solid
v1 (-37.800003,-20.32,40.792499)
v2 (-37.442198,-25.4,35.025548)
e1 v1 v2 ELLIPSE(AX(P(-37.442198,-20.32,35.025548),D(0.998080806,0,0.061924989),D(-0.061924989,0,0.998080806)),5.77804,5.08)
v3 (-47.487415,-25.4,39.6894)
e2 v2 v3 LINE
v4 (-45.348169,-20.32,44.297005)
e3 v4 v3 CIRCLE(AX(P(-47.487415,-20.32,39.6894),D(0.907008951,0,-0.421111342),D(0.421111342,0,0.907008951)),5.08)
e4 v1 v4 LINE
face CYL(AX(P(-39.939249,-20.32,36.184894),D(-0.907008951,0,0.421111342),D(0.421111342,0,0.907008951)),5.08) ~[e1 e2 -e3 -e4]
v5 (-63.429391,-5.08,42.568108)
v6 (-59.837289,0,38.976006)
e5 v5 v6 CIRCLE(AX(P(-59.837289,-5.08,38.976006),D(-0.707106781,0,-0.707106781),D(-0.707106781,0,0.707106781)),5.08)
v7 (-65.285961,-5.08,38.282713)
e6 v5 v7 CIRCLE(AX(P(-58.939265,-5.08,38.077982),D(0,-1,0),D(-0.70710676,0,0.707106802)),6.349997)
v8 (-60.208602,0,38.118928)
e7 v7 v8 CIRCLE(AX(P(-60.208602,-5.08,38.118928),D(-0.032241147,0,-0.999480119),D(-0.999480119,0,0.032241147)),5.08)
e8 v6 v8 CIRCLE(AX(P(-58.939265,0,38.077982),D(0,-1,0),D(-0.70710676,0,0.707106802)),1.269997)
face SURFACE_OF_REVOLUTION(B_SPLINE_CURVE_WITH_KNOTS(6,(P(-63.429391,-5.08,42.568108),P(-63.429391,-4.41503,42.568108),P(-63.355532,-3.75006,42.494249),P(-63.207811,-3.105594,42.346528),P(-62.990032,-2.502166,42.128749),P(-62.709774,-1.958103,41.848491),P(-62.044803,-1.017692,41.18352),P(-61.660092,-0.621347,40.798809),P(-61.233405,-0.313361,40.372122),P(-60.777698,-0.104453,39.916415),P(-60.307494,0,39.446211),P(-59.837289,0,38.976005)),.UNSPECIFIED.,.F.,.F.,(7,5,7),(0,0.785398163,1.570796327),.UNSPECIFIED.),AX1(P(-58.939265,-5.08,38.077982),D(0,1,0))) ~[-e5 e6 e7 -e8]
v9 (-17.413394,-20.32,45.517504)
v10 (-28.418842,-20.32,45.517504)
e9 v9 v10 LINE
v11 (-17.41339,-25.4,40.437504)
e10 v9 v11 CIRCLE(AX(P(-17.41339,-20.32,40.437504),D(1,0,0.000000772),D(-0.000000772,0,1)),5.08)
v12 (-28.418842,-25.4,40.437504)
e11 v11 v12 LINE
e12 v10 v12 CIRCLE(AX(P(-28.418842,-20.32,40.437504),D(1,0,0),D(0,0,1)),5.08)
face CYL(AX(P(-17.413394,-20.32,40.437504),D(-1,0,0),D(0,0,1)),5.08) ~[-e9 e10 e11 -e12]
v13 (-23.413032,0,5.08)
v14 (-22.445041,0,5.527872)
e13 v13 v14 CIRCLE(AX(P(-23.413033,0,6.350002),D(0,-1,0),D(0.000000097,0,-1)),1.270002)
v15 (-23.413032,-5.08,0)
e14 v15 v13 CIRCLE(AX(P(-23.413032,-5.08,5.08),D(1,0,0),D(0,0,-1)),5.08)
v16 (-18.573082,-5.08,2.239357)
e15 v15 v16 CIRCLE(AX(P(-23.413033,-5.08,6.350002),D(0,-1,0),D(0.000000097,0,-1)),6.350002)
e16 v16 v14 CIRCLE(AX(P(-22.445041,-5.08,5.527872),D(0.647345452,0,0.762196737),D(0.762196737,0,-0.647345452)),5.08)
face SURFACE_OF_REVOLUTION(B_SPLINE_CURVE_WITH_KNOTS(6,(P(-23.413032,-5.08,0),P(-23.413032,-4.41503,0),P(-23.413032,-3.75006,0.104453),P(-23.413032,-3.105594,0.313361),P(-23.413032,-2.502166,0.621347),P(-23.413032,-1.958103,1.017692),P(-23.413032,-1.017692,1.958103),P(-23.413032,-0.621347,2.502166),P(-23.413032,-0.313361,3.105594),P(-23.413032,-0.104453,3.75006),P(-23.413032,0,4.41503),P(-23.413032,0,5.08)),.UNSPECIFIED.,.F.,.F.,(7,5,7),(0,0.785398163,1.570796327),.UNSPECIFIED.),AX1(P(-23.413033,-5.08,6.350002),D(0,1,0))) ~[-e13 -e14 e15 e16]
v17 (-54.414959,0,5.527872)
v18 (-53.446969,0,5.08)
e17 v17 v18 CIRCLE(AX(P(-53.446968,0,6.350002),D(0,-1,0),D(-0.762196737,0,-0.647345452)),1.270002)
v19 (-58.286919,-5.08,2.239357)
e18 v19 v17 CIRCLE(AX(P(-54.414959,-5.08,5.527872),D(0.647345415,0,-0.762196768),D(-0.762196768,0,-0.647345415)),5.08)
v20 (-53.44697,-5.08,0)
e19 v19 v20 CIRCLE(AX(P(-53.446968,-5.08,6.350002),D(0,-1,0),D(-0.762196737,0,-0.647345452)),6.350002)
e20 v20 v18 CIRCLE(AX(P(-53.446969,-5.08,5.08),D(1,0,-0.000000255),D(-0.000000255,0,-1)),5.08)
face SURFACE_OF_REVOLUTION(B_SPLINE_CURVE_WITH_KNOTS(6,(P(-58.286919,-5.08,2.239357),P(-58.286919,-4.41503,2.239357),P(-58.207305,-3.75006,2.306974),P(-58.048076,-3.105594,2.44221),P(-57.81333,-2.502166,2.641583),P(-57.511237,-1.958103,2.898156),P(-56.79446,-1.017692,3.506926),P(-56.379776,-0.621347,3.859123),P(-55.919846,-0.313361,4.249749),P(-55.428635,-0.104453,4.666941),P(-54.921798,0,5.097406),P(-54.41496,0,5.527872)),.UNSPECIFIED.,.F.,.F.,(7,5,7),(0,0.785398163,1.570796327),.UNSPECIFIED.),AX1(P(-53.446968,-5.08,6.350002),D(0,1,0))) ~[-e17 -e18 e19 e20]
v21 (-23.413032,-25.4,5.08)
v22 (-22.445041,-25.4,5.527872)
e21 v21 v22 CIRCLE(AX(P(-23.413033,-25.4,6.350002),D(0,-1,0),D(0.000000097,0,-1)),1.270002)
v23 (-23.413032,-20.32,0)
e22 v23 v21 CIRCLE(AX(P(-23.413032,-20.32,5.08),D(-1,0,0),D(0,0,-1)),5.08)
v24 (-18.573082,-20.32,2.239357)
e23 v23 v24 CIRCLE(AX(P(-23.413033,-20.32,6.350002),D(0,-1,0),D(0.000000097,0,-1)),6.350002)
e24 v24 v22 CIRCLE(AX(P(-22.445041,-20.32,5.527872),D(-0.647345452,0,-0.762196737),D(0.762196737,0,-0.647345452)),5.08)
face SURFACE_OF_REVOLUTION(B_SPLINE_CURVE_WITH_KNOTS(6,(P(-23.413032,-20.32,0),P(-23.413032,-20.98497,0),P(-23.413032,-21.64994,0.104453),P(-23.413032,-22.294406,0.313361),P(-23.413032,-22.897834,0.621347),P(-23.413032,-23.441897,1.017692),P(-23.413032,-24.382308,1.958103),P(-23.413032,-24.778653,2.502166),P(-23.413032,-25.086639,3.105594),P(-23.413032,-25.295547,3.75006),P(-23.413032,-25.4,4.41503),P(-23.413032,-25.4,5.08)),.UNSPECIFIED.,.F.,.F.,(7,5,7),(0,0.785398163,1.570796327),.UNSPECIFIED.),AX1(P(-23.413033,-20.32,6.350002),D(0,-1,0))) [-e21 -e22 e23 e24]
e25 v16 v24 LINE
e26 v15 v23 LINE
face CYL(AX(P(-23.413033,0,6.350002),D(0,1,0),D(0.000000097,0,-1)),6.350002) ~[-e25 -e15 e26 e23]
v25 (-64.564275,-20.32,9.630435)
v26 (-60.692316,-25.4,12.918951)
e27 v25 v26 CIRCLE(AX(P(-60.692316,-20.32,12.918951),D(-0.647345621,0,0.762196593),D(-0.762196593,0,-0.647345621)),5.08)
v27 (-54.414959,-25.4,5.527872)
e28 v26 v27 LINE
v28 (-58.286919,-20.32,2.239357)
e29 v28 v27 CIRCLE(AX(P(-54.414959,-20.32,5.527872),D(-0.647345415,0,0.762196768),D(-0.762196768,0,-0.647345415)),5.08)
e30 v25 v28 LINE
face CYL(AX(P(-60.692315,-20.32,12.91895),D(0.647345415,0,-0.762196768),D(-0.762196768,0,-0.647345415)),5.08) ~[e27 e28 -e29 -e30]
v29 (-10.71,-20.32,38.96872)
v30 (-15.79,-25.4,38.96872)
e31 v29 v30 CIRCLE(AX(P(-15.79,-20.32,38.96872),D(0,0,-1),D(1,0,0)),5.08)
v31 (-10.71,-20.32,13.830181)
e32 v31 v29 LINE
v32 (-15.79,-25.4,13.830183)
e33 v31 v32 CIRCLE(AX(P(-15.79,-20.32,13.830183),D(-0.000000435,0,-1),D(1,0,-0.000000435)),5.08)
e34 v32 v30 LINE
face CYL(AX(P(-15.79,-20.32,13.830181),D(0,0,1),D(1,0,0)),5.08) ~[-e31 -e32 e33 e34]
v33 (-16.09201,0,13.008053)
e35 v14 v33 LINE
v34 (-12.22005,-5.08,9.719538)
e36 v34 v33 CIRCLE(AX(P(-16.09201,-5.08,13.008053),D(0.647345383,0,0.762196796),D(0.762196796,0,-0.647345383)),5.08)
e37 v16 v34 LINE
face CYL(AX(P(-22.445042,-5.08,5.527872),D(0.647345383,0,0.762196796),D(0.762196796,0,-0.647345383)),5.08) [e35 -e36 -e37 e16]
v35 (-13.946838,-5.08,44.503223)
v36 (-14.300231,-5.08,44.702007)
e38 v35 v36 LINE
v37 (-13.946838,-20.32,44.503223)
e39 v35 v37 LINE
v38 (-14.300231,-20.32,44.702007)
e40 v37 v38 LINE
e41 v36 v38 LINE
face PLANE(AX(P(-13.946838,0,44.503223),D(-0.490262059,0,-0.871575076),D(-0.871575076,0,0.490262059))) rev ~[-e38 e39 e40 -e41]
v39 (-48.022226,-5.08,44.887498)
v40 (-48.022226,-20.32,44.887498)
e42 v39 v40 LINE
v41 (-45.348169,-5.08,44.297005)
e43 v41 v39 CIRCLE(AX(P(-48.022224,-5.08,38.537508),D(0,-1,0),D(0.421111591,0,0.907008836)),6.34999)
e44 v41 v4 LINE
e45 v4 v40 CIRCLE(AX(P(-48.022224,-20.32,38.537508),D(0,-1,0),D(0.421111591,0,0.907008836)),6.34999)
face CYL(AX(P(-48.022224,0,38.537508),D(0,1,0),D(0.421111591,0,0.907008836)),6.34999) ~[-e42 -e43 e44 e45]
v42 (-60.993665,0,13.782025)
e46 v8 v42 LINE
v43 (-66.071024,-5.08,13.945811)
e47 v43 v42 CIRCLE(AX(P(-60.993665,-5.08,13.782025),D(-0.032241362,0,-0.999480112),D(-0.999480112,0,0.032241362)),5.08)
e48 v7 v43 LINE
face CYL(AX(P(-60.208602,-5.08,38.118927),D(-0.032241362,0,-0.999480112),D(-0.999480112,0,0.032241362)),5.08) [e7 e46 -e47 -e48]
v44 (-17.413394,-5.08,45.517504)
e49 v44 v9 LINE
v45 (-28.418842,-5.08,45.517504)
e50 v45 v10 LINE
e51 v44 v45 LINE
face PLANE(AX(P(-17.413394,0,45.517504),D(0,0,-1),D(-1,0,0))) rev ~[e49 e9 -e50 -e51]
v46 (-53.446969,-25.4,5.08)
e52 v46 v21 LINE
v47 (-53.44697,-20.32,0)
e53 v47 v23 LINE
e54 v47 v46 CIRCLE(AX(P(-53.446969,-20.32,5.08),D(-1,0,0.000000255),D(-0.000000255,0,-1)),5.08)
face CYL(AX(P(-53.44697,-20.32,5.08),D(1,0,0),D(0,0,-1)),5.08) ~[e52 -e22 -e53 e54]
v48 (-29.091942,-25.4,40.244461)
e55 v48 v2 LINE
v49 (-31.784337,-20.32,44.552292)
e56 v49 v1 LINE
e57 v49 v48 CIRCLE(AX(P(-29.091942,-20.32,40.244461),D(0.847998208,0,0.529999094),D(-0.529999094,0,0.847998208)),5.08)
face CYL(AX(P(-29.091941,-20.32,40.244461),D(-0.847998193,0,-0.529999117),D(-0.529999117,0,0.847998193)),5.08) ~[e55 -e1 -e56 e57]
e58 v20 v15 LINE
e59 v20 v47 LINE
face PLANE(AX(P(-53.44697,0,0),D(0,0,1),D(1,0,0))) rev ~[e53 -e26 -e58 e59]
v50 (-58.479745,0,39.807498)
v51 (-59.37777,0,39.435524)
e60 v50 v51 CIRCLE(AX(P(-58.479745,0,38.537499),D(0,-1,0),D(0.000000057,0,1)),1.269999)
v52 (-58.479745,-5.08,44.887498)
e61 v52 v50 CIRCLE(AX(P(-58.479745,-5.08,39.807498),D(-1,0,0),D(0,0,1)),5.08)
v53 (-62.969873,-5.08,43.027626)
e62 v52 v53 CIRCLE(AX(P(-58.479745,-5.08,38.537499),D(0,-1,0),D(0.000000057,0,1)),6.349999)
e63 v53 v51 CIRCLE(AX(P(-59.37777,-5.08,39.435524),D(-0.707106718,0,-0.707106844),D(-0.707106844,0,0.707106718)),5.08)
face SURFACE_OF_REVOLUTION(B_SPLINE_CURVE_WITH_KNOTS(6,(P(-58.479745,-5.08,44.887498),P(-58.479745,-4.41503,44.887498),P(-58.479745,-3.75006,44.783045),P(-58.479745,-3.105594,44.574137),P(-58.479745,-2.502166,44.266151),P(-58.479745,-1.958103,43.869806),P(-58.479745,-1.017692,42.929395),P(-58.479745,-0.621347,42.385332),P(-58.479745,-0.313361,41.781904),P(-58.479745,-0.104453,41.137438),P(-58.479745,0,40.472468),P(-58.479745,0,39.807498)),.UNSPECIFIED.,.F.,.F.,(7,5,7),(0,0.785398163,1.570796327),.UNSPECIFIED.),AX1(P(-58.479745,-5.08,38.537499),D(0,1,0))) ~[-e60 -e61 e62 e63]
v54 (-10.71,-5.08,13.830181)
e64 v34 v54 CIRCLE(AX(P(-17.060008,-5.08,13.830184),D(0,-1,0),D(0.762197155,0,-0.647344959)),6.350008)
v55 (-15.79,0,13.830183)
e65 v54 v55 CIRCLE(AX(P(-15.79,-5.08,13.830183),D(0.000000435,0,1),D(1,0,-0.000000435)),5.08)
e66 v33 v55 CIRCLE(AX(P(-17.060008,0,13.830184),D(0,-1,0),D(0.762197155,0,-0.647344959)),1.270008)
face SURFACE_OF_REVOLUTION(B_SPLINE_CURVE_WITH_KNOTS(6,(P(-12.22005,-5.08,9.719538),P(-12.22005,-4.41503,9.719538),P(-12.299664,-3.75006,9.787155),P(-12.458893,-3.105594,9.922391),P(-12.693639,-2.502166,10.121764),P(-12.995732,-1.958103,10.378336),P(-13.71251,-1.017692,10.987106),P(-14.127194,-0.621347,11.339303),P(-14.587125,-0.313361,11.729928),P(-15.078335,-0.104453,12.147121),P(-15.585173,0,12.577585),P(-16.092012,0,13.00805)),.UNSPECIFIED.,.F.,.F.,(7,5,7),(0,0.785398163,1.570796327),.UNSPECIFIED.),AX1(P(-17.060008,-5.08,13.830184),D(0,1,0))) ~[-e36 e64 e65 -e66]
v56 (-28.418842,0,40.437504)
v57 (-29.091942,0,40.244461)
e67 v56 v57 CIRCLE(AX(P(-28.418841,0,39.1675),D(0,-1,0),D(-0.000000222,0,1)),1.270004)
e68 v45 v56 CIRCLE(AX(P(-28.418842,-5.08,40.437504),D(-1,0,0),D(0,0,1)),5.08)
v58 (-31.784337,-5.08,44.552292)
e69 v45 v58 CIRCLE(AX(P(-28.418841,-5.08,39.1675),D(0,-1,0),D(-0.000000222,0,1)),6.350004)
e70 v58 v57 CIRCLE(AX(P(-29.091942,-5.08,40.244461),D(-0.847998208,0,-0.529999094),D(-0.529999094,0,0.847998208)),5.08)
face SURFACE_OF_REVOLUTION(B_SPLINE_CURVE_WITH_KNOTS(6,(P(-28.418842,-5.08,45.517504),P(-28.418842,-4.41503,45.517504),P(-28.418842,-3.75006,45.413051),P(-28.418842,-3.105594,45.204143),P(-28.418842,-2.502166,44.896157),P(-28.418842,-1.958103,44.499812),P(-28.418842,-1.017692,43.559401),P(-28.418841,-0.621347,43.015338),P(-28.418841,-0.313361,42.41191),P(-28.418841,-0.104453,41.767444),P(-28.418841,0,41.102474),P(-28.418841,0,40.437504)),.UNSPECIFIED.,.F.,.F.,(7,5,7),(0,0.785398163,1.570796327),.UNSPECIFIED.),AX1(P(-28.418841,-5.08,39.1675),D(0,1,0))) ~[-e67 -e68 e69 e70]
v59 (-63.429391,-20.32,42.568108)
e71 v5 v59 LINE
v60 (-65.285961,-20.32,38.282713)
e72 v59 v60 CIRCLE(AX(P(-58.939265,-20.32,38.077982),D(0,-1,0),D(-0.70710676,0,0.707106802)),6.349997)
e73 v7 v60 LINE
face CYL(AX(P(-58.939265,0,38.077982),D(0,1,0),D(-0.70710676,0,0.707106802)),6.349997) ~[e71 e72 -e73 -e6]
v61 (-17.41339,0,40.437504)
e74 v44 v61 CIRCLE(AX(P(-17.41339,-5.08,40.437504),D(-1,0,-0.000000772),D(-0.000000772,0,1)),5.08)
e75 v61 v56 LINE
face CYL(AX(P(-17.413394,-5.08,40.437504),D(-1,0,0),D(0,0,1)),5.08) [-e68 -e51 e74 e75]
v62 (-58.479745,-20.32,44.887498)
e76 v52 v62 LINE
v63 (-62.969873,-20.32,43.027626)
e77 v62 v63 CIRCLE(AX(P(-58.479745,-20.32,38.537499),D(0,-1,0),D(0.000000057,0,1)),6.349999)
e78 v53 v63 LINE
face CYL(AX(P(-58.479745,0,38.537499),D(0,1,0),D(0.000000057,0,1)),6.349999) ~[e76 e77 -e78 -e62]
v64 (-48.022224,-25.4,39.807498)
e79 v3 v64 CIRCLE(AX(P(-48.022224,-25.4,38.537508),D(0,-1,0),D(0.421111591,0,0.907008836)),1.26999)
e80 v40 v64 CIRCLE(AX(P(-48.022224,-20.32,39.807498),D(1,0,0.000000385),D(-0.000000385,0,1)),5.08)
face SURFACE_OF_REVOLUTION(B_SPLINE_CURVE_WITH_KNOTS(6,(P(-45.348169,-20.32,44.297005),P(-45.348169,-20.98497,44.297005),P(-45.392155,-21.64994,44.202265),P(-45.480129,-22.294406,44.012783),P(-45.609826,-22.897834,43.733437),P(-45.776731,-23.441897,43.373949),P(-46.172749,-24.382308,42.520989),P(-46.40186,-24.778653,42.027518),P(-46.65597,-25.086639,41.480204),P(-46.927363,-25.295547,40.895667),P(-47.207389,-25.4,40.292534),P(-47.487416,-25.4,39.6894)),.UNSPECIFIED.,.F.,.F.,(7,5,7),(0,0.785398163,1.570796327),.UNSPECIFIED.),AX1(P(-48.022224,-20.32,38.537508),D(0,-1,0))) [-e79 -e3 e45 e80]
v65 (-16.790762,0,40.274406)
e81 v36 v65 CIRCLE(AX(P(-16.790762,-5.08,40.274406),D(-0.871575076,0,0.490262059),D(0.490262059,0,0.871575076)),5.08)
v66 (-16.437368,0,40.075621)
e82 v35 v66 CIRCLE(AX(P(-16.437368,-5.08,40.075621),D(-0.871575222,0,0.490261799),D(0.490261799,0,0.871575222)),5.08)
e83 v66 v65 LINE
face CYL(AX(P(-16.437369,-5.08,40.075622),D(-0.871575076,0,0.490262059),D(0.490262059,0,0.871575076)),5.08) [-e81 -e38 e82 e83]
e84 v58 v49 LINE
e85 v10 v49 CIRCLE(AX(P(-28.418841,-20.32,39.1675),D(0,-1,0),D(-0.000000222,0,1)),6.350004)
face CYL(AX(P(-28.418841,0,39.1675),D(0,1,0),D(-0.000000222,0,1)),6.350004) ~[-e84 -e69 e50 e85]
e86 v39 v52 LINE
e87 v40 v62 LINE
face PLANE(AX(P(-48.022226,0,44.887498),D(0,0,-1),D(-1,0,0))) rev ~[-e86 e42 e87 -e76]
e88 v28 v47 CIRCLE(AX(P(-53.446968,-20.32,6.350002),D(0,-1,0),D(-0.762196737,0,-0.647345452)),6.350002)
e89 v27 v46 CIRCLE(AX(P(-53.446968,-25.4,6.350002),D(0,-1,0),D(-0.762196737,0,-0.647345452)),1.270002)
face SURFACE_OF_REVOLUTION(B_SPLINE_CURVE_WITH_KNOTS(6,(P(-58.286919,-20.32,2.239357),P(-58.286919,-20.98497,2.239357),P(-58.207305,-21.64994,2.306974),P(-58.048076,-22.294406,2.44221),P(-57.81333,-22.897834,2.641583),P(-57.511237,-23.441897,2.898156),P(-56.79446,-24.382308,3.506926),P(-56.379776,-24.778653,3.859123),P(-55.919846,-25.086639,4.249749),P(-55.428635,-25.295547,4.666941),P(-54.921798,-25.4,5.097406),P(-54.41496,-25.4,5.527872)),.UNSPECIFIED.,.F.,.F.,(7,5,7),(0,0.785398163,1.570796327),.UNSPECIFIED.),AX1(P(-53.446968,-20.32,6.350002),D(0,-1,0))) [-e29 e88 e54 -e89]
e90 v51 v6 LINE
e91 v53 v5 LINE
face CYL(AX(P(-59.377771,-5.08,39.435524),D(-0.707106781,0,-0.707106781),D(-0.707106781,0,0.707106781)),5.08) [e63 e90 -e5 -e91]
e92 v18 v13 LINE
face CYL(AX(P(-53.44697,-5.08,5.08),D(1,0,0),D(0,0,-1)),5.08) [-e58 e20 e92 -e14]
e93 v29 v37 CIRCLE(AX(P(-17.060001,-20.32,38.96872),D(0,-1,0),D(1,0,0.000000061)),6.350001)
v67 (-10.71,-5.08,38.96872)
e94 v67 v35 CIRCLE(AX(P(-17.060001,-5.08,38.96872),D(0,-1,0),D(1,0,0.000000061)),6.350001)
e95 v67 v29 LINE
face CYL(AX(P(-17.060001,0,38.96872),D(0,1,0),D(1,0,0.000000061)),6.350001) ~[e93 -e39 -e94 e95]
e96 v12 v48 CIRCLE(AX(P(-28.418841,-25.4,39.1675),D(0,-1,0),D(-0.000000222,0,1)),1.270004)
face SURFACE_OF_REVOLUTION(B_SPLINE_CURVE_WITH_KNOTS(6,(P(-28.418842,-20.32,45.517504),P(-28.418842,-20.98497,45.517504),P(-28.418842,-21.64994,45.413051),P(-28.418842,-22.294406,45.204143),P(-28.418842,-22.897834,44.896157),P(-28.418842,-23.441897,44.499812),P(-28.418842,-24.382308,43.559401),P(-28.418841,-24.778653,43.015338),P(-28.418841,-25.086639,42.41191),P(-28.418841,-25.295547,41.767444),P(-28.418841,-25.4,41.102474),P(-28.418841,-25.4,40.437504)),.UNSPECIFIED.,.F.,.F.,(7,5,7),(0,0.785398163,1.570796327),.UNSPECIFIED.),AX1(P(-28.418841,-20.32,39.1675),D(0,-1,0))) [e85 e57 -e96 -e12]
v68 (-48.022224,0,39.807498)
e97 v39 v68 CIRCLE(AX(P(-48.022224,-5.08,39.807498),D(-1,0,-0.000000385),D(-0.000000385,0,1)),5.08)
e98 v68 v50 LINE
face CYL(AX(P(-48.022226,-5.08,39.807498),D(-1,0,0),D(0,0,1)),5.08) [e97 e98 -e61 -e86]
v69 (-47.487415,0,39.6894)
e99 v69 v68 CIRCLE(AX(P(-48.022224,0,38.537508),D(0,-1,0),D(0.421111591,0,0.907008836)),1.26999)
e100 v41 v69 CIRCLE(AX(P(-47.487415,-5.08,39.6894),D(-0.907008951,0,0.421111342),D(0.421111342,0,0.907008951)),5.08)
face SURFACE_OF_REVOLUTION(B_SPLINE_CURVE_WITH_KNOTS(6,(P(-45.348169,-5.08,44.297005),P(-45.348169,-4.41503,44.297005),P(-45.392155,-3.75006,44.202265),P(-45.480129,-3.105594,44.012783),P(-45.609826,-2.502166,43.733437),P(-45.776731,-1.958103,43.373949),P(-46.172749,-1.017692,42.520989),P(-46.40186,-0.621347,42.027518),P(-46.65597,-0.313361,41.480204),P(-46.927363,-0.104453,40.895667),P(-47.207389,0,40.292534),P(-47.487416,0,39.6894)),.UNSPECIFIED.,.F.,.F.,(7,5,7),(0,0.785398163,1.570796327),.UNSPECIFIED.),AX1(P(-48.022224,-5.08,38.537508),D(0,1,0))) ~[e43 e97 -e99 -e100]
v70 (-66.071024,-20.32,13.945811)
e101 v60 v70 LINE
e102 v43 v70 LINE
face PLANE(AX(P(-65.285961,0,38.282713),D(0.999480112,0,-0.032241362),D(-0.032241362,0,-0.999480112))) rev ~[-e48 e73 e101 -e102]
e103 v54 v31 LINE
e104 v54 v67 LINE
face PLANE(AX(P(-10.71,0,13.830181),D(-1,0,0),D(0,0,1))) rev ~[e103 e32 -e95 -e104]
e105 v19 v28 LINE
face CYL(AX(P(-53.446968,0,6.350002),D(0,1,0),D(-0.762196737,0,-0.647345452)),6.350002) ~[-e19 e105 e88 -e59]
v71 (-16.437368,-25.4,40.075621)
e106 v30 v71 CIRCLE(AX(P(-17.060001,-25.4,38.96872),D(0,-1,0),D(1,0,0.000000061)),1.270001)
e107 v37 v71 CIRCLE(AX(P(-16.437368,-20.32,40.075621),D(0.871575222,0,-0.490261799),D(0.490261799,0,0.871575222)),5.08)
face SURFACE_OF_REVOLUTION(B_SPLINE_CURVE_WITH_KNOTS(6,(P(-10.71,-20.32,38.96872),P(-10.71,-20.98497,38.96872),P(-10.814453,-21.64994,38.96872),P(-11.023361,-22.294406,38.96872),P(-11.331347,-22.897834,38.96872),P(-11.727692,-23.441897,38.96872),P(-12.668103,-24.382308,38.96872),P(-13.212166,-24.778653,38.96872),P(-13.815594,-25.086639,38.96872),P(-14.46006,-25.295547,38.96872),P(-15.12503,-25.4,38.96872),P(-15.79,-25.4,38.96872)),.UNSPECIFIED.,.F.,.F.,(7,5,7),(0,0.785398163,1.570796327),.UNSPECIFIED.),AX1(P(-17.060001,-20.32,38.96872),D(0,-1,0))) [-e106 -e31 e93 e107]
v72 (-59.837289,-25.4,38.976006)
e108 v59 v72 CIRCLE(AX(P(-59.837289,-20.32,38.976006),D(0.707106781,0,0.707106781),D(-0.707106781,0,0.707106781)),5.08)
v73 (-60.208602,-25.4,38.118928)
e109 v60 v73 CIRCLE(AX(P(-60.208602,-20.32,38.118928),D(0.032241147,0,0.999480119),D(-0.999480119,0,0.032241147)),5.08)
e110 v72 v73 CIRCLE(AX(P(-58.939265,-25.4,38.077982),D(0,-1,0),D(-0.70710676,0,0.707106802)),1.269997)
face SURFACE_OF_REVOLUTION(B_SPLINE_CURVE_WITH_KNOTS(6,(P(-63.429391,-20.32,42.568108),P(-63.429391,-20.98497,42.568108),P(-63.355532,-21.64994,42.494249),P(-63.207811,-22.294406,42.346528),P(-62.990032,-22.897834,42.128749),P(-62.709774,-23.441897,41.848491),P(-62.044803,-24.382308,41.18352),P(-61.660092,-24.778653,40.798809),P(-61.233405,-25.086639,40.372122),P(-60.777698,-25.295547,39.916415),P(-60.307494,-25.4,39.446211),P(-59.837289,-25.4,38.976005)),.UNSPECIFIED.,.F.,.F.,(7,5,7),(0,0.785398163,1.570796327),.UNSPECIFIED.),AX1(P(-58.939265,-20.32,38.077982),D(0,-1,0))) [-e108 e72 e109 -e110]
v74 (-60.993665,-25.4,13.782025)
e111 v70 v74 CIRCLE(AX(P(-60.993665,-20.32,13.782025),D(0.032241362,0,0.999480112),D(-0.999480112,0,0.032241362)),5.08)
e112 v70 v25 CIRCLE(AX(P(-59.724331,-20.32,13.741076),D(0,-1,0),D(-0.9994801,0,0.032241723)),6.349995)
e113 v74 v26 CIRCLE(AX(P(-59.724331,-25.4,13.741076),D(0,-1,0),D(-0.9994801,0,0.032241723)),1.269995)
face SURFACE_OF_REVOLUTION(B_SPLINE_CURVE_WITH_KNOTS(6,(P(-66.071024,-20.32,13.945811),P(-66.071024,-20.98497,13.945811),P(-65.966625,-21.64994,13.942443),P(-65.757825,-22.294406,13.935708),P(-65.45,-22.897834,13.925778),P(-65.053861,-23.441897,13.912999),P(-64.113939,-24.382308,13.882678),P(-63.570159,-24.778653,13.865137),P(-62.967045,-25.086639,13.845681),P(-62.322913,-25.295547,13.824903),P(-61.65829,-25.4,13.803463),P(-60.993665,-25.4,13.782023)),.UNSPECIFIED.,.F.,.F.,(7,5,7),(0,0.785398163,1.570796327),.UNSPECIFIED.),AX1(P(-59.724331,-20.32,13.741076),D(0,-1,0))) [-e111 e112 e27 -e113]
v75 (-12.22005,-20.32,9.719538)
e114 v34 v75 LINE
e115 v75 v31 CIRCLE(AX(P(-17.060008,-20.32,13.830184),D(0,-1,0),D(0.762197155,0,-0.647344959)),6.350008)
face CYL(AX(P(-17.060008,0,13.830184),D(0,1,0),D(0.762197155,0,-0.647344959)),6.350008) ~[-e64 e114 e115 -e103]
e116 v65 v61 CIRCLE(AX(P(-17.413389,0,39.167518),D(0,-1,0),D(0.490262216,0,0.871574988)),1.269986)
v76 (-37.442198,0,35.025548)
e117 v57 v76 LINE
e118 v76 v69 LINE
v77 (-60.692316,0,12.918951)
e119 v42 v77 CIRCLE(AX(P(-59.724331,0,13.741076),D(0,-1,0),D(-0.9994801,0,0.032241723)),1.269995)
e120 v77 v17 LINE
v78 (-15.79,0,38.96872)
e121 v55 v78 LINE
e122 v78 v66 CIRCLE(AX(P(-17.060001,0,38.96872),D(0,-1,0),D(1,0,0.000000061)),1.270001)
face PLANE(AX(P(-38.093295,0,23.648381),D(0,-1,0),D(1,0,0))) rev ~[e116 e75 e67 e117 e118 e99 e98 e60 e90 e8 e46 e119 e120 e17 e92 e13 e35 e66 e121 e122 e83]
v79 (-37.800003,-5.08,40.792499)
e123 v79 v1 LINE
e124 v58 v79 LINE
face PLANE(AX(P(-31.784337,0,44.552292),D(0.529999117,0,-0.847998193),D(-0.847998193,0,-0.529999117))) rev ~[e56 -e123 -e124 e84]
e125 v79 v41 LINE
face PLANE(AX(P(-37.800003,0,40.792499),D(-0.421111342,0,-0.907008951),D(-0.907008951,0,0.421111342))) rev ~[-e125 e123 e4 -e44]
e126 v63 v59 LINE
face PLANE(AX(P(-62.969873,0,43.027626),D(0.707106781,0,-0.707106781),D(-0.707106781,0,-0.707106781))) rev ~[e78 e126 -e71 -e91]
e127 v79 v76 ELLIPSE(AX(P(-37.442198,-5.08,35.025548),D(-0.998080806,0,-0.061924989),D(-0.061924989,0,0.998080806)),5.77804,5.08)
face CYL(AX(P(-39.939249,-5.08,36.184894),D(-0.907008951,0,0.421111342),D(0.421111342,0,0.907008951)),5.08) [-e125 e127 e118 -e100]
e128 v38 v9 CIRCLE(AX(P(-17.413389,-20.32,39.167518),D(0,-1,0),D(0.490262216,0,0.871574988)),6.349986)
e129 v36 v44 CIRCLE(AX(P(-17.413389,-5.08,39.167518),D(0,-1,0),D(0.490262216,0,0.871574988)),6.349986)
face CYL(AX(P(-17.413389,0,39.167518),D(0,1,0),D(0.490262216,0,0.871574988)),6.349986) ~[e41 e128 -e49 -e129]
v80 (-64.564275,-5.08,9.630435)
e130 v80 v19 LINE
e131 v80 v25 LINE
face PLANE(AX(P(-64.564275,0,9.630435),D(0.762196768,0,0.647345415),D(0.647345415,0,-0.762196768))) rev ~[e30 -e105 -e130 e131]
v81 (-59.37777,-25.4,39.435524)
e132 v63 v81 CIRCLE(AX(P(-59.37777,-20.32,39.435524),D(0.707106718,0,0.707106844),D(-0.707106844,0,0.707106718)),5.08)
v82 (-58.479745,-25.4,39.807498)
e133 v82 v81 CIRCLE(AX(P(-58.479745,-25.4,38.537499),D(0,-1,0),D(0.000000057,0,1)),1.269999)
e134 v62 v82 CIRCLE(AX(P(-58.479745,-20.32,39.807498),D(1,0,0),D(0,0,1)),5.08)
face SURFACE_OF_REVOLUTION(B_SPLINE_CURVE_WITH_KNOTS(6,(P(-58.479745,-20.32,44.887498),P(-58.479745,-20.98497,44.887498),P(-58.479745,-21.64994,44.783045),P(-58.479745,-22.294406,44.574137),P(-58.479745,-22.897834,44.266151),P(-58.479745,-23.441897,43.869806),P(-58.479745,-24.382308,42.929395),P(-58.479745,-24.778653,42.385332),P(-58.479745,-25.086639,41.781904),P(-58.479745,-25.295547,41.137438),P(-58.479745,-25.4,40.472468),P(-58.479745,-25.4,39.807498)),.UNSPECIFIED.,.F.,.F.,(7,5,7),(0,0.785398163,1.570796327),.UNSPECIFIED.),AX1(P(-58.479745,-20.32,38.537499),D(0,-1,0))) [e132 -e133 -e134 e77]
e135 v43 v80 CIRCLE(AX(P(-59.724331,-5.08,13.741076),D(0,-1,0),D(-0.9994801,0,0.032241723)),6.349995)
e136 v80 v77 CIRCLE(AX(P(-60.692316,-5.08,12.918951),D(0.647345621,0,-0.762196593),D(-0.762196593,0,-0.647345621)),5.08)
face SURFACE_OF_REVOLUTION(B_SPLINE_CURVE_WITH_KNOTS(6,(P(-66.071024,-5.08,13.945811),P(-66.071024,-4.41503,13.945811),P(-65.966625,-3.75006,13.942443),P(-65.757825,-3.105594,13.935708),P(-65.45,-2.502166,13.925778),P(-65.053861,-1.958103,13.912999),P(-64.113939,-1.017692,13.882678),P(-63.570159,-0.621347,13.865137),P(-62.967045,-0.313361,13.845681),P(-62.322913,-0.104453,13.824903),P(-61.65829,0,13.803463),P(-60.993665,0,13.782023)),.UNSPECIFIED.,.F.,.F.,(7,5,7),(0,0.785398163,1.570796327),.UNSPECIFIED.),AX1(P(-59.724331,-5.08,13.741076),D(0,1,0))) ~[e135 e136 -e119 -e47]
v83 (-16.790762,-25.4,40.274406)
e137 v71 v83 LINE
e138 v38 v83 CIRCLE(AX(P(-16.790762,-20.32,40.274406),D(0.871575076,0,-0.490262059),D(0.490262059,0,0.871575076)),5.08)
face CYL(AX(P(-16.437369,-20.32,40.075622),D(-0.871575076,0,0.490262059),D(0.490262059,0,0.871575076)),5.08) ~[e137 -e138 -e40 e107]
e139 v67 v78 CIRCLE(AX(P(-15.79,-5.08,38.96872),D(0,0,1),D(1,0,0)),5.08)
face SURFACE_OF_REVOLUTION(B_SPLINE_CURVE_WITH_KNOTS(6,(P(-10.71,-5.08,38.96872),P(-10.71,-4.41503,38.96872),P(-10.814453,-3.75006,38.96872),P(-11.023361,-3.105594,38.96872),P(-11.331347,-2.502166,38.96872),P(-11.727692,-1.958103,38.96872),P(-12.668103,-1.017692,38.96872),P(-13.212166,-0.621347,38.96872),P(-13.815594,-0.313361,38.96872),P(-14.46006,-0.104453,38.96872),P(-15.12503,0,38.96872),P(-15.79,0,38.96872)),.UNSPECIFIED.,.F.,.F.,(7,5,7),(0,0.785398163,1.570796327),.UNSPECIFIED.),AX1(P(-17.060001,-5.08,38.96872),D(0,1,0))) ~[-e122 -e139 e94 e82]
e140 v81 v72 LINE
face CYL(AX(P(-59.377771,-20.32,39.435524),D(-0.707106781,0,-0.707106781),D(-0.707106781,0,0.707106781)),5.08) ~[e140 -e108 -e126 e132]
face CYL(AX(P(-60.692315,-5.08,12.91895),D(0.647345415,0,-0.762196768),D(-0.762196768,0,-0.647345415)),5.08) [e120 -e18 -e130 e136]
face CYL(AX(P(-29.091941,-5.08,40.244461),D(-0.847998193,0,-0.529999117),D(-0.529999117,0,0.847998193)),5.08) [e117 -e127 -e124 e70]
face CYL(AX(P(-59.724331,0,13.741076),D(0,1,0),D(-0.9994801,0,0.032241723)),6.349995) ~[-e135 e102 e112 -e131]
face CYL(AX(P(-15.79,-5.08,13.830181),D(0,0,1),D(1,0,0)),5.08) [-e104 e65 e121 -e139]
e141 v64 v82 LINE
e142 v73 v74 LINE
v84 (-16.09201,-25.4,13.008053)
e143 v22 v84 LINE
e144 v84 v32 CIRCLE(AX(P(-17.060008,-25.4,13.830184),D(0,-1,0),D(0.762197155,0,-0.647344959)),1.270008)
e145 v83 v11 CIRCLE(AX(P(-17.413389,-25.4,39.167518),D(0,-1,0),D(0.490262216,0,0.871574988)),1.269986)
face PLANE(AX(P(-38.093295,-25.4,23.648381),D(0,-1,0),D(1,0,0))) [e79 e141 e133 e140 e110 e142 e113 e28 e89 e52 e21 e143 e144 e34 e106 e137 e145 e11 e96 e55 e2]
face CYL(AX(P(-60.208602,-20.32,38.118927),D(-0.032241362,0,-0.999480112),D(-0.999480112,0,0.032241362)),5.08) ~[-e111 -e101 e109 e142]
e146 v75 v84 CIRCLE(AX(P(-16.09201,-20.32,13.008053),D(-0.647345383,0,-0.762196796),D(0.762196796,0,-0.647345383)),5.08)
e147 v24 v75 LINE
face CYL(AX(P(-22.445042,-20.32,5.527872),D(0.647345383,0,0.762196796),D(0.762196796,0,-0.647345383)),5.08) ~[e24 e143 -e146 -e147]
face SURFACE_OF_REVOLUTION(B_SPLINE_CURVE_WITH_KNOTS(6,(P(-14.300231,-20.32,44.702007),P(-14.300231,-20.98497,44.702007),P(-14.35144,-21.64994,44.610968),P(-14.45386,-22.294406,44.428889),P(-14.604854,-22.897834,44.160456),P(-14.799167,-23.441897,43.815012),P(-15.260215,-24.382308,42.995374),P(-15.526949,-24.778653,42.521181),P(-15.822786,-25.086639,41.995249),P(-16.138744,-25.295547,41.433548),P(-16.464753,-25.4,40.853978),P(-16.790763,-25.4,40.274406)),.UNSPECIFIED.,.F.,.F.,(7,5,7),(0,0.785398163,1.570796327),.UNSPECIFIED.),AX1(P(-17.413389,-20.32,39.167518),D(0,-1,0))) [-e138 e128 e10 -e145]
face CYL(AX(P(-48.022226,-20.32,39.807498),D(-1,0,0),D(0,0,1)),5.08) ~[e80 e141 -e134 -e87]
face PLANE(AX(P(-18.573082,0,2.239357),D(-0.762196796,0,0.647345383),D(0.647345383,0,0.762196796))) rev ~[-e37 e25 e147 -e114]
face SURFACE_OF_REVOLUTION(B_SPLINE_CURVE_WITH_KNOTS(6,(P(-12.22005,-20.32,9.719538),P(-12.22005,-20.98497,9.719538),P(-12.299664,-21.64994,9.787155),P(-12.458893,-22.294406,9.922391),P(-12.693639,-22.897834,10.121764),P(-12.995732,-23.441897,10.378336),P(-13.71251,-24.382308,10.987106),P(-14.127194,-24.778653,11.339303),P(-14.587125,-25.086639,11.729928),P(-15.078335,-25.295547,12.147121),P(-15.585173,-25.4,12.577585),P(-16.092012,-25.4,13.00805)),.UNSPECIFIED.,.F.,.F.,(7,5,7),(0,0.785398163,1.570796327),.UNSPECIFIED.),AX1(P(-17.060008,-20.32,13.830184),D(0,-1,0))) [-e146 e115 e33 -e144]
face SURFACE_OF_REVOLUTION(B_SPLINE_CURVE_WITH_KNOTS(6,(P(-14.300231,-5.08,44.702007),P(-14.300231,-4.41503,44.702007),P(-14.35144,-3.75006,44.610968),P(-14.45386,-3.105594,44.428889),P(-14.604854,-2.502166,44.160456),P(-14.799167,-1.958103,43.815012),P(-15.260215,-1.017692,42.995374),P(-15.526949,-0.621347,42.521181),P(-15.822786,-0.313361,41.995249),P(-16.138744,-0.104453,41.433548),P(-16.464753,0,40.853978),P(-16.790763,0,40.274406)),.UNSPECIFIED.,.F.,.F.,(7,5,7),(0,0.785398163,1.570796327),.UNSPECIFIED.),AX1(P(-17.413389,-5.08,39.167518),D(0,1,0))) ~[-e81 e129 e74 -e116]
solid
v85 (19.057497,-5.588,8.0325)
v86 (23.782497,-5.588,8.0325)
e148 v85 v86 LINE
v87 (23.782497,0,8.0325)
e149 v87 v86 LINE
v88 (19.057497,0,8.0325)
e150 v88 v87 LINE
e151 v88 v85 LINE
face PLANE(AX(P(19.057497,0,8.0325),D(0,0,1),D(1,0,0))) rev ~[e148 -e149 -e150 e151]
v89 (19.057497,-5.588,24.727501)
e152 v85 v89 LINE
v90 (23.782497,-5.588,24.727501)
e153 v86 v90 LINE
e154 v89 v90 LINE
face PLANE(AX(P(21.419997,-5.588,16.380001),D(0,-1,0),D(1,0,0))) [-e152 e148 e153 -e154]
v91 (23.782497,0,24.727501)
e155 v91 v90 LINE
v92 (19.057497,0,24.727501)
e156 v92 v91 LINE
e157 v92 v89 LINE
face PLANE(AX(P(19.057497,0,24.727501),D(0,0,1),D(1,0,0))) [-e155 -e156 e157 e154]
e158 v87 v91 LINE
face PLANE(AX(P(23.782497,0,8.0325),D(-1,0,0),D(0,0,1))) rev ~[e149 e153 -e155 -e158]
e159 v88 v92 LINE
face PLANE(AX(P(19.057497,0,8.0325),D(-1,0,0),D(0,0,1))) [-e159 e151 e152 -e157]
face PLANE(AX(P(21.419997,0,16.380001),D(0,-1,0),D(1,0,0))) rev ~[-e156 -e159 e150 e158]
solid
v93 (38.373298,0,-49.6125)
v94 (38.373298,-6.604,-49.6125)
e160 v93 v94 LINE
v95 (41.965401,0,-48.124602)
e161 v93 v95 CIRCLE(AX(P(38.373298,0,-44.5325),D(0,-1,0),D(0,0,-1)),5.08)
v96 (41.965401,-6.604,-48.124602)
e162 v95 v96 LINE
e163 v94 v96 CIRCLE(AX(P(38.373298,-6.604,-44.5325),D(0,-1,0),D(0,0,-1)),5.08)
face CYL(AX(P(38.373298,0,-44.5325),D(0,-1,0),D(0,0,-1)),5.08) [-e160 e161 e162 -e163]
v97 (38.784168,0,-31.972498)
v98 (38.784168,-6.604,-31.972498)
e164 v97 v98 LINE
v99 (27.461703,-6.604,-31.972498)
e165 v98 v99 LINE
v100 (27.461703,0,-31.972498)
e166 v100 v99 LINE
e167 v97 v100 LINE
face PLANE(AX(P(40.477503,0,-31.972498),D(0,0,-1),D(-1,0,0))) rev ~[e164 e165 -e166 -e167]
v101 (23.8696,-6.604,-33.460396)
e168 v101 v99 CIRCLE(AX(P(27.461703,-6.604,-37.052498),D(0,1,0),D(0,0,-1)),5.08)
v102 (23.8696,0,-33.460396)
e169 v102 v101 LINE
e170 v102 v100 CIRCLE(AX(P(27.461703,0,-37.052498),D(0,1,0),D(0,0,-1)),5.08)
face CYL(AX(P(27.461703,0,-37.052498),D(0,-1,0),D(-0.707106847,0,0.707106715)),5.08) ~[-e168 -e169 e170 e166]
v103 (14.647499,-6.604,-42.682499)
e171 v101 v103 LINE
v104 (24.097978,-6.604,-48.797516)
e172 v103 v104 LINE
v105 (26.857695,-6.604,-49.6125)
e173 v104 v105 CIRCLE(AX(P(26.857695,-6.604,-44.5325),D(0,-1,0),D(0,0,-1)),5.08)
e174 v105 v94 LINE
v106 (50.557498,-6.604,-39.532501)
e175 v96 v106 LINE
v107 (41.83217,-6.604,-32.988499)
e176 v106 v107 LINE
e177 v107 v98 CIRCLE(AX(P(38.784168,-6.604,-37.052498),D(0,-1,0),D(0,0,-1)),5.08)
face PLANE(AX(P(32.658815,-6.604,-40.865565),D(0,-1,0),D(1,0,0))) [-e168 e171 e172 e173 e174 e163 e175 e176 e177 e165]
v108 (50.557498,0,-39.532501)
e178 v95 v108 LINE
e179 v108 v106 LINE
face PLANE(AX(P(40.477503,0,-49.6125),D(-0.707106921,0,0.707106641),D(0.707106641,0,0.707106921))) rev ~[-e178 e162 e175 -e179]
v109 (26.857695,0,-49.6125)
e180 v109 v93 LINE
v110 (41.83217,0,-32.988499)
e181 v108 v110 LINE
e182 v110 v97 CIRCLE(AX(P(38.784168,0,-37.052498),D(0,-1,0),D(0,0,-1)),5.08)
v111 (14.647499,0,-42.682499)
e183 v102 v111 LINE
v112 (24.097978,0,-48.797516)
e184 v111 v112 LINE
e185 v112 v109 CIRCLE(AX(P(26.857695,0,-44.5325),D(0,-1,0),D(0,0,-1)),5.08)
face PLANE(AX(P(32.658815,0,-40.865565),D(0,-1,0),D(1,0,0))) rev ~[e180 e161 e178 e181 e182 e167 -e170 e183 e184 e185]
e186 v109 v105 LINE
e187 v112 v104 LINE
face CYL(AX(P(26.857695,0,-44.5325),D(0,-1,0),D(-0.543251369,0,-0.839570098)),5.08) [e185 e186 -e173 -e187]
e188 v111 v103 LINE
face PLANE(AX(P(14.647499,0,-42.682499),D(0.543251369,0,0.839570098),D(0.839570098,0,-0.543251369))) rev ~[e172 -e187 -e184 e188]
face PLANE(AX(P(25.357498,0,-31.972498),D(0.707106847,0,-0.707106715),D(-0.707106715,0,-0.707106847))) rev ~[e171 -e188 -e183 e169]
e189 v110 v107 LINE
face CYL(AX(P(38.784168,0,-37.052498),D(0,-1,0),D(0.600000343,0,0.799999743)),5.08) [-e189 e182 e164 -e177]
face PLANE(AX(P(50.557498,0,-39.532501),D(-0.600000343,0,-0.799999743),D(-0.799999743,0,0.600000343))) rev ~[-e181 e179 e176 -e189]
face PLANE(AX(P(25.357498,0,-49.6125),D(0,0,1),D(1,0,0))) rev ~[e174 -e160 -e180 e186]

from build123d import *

# Parameters (mm, degrees)
F1_DEPTH = 25.4
F2_R     = 5.08
F3_W     = 4.725
F3_H     = 16.695001
F4_DEPTH = 5.588
F6_DEPTH = 6.604
F7_R     = 5.08


with BuildPart() as f1:
    # F0 (on Front) → F1 (new body)
    with BuildSketch(Plane.XZ):
        with BuildLine():
            Line((-31.784337, 44.552292), (-37.800003, 40.792499))
            Line((-37.800003, 40.792499), (-45.348169, 44.297005))
            ThreePointArc((-45.348169, 44.297005), (-46.652987, 44.738118), (-48.022226, 44.887498))
            Line((-48.022226, 44.887498), (-58.479745, 44.887498))
            ThreePointArc((-58.479745, 44.887498), (-60.909785, 44.404133), (-62.969873, 43.027626))
            Line((-62.969873, 43.027626), (-63.429391, 42.568108))
            ThreePointArc((-63.429391, 42.568108), (-64.765956, 40.602291), (-65.285961, 38.282713))
            Line((-65.285961, 38.282713), (-66.071024, 13.945811))
            ThreePointArc((-66.071024, 13.945811), (-65.719398, 11.647849), (-64.564275, 9.630435))
            Line((-64.564275, 9.630435), (-58.286919, 2.239357))
            ThreePointArc((-58.286919, 2.239357), (-56.11342, 0.586968), (-53.44697, 0))
            Line((-53.44697, 0), (-23.413032, 0))
            ThreePointArc((-23.413032, 0), (-20.746581, 0.586968), (-18.573082, 2.239357))
            Line((-18.573082, 2.239357), (-12.22005, 9.719538))
            ThreePointArc((-12.22005, 9.719538), (-11.099456, 11.640567), (-10.71, 13.830181))
            Line((-10.71, 13.830181), (-10.71, 38.96872))
            ThreePointArc((-10.71, 38.96872), (-11.578619, 42.17449), (-13.946838, 44.503223))
            Line((-13.946838, 44.503223), (-14.300231, 44.702007))
            ThreePointArc((-14.300231, 44.702007), (-15.804293, 45.310248), (-17.413394, 45.517504))
            Line((-17.413394, 45.517504), (-28.418842, 45.517504))
            ThreePointArc((-28.418842, 45.517504), (-30.169427, 45.271433), (-31.784337, 44.552292))
        make_face()
    extrude(amount=F1_DEPTH)

    # F2
    f2_edges = [f1.edges().sort_by_distance(p)[0] for p in [
        (-60.909785, -25.4, 44.404133),
        (-15.804293, 0, 45.310248),
        (-10.71, -12.7, 13.830181),
        (-10.71, -12.7, 38.96872),
        (-10.71, 0, 26.399451),
        (-10.71, -25.4, 26.399451),
        (-65.285961, -12.7, 38.282713),
        (-66.071024, -12.7, 13.945811),
        (-65.678493, 0, 26.114262),
        (-65.678493, -25.4, 26.114262),
        (-13.946838, -12.7, 44.503223),
        (-63.429391, -12.7, 42.568108),
    ]]
    fillet(f2_edges, radius=F2_R)


with BuildPart() as f4:
    # F3 (on Front) → F4 (new body)
    with BuildSketch(Plane.XZ):
        with Locations((21.419997, 16.380001)):
            Rectangle(F3_W, F3_H)
    extrude(amount=F4_DEPTH)


with BuildPart() as f6:
    # F5 (on Front) → F6 (new body)
    with BuildSketch(Plane.XZ):
        Polygon((25.357498, -31.972498), (14.647499, -42.682499), (25.357498, -49.6125), (40.477503, -49.6125), (50.557498, -39.532501), (40.477503, -31.972498), align=None)
    extrude(amount=F6_DEPTH)

    # F7
    f7_edges = [f6.edges().sort_by_distance(p)[0] for p in [
        (40.477503, -3.302, -31.972498),
        (40.477503, -3.302, -49.6125),
        (25.357498, -3.302, -49.6125),
        (25.357498, -3.302, -31.972498),
    ]]
    fillet(f7_edges, radius=F7_R)


solid = Compound([f1.part, f4.part, f6.part])
